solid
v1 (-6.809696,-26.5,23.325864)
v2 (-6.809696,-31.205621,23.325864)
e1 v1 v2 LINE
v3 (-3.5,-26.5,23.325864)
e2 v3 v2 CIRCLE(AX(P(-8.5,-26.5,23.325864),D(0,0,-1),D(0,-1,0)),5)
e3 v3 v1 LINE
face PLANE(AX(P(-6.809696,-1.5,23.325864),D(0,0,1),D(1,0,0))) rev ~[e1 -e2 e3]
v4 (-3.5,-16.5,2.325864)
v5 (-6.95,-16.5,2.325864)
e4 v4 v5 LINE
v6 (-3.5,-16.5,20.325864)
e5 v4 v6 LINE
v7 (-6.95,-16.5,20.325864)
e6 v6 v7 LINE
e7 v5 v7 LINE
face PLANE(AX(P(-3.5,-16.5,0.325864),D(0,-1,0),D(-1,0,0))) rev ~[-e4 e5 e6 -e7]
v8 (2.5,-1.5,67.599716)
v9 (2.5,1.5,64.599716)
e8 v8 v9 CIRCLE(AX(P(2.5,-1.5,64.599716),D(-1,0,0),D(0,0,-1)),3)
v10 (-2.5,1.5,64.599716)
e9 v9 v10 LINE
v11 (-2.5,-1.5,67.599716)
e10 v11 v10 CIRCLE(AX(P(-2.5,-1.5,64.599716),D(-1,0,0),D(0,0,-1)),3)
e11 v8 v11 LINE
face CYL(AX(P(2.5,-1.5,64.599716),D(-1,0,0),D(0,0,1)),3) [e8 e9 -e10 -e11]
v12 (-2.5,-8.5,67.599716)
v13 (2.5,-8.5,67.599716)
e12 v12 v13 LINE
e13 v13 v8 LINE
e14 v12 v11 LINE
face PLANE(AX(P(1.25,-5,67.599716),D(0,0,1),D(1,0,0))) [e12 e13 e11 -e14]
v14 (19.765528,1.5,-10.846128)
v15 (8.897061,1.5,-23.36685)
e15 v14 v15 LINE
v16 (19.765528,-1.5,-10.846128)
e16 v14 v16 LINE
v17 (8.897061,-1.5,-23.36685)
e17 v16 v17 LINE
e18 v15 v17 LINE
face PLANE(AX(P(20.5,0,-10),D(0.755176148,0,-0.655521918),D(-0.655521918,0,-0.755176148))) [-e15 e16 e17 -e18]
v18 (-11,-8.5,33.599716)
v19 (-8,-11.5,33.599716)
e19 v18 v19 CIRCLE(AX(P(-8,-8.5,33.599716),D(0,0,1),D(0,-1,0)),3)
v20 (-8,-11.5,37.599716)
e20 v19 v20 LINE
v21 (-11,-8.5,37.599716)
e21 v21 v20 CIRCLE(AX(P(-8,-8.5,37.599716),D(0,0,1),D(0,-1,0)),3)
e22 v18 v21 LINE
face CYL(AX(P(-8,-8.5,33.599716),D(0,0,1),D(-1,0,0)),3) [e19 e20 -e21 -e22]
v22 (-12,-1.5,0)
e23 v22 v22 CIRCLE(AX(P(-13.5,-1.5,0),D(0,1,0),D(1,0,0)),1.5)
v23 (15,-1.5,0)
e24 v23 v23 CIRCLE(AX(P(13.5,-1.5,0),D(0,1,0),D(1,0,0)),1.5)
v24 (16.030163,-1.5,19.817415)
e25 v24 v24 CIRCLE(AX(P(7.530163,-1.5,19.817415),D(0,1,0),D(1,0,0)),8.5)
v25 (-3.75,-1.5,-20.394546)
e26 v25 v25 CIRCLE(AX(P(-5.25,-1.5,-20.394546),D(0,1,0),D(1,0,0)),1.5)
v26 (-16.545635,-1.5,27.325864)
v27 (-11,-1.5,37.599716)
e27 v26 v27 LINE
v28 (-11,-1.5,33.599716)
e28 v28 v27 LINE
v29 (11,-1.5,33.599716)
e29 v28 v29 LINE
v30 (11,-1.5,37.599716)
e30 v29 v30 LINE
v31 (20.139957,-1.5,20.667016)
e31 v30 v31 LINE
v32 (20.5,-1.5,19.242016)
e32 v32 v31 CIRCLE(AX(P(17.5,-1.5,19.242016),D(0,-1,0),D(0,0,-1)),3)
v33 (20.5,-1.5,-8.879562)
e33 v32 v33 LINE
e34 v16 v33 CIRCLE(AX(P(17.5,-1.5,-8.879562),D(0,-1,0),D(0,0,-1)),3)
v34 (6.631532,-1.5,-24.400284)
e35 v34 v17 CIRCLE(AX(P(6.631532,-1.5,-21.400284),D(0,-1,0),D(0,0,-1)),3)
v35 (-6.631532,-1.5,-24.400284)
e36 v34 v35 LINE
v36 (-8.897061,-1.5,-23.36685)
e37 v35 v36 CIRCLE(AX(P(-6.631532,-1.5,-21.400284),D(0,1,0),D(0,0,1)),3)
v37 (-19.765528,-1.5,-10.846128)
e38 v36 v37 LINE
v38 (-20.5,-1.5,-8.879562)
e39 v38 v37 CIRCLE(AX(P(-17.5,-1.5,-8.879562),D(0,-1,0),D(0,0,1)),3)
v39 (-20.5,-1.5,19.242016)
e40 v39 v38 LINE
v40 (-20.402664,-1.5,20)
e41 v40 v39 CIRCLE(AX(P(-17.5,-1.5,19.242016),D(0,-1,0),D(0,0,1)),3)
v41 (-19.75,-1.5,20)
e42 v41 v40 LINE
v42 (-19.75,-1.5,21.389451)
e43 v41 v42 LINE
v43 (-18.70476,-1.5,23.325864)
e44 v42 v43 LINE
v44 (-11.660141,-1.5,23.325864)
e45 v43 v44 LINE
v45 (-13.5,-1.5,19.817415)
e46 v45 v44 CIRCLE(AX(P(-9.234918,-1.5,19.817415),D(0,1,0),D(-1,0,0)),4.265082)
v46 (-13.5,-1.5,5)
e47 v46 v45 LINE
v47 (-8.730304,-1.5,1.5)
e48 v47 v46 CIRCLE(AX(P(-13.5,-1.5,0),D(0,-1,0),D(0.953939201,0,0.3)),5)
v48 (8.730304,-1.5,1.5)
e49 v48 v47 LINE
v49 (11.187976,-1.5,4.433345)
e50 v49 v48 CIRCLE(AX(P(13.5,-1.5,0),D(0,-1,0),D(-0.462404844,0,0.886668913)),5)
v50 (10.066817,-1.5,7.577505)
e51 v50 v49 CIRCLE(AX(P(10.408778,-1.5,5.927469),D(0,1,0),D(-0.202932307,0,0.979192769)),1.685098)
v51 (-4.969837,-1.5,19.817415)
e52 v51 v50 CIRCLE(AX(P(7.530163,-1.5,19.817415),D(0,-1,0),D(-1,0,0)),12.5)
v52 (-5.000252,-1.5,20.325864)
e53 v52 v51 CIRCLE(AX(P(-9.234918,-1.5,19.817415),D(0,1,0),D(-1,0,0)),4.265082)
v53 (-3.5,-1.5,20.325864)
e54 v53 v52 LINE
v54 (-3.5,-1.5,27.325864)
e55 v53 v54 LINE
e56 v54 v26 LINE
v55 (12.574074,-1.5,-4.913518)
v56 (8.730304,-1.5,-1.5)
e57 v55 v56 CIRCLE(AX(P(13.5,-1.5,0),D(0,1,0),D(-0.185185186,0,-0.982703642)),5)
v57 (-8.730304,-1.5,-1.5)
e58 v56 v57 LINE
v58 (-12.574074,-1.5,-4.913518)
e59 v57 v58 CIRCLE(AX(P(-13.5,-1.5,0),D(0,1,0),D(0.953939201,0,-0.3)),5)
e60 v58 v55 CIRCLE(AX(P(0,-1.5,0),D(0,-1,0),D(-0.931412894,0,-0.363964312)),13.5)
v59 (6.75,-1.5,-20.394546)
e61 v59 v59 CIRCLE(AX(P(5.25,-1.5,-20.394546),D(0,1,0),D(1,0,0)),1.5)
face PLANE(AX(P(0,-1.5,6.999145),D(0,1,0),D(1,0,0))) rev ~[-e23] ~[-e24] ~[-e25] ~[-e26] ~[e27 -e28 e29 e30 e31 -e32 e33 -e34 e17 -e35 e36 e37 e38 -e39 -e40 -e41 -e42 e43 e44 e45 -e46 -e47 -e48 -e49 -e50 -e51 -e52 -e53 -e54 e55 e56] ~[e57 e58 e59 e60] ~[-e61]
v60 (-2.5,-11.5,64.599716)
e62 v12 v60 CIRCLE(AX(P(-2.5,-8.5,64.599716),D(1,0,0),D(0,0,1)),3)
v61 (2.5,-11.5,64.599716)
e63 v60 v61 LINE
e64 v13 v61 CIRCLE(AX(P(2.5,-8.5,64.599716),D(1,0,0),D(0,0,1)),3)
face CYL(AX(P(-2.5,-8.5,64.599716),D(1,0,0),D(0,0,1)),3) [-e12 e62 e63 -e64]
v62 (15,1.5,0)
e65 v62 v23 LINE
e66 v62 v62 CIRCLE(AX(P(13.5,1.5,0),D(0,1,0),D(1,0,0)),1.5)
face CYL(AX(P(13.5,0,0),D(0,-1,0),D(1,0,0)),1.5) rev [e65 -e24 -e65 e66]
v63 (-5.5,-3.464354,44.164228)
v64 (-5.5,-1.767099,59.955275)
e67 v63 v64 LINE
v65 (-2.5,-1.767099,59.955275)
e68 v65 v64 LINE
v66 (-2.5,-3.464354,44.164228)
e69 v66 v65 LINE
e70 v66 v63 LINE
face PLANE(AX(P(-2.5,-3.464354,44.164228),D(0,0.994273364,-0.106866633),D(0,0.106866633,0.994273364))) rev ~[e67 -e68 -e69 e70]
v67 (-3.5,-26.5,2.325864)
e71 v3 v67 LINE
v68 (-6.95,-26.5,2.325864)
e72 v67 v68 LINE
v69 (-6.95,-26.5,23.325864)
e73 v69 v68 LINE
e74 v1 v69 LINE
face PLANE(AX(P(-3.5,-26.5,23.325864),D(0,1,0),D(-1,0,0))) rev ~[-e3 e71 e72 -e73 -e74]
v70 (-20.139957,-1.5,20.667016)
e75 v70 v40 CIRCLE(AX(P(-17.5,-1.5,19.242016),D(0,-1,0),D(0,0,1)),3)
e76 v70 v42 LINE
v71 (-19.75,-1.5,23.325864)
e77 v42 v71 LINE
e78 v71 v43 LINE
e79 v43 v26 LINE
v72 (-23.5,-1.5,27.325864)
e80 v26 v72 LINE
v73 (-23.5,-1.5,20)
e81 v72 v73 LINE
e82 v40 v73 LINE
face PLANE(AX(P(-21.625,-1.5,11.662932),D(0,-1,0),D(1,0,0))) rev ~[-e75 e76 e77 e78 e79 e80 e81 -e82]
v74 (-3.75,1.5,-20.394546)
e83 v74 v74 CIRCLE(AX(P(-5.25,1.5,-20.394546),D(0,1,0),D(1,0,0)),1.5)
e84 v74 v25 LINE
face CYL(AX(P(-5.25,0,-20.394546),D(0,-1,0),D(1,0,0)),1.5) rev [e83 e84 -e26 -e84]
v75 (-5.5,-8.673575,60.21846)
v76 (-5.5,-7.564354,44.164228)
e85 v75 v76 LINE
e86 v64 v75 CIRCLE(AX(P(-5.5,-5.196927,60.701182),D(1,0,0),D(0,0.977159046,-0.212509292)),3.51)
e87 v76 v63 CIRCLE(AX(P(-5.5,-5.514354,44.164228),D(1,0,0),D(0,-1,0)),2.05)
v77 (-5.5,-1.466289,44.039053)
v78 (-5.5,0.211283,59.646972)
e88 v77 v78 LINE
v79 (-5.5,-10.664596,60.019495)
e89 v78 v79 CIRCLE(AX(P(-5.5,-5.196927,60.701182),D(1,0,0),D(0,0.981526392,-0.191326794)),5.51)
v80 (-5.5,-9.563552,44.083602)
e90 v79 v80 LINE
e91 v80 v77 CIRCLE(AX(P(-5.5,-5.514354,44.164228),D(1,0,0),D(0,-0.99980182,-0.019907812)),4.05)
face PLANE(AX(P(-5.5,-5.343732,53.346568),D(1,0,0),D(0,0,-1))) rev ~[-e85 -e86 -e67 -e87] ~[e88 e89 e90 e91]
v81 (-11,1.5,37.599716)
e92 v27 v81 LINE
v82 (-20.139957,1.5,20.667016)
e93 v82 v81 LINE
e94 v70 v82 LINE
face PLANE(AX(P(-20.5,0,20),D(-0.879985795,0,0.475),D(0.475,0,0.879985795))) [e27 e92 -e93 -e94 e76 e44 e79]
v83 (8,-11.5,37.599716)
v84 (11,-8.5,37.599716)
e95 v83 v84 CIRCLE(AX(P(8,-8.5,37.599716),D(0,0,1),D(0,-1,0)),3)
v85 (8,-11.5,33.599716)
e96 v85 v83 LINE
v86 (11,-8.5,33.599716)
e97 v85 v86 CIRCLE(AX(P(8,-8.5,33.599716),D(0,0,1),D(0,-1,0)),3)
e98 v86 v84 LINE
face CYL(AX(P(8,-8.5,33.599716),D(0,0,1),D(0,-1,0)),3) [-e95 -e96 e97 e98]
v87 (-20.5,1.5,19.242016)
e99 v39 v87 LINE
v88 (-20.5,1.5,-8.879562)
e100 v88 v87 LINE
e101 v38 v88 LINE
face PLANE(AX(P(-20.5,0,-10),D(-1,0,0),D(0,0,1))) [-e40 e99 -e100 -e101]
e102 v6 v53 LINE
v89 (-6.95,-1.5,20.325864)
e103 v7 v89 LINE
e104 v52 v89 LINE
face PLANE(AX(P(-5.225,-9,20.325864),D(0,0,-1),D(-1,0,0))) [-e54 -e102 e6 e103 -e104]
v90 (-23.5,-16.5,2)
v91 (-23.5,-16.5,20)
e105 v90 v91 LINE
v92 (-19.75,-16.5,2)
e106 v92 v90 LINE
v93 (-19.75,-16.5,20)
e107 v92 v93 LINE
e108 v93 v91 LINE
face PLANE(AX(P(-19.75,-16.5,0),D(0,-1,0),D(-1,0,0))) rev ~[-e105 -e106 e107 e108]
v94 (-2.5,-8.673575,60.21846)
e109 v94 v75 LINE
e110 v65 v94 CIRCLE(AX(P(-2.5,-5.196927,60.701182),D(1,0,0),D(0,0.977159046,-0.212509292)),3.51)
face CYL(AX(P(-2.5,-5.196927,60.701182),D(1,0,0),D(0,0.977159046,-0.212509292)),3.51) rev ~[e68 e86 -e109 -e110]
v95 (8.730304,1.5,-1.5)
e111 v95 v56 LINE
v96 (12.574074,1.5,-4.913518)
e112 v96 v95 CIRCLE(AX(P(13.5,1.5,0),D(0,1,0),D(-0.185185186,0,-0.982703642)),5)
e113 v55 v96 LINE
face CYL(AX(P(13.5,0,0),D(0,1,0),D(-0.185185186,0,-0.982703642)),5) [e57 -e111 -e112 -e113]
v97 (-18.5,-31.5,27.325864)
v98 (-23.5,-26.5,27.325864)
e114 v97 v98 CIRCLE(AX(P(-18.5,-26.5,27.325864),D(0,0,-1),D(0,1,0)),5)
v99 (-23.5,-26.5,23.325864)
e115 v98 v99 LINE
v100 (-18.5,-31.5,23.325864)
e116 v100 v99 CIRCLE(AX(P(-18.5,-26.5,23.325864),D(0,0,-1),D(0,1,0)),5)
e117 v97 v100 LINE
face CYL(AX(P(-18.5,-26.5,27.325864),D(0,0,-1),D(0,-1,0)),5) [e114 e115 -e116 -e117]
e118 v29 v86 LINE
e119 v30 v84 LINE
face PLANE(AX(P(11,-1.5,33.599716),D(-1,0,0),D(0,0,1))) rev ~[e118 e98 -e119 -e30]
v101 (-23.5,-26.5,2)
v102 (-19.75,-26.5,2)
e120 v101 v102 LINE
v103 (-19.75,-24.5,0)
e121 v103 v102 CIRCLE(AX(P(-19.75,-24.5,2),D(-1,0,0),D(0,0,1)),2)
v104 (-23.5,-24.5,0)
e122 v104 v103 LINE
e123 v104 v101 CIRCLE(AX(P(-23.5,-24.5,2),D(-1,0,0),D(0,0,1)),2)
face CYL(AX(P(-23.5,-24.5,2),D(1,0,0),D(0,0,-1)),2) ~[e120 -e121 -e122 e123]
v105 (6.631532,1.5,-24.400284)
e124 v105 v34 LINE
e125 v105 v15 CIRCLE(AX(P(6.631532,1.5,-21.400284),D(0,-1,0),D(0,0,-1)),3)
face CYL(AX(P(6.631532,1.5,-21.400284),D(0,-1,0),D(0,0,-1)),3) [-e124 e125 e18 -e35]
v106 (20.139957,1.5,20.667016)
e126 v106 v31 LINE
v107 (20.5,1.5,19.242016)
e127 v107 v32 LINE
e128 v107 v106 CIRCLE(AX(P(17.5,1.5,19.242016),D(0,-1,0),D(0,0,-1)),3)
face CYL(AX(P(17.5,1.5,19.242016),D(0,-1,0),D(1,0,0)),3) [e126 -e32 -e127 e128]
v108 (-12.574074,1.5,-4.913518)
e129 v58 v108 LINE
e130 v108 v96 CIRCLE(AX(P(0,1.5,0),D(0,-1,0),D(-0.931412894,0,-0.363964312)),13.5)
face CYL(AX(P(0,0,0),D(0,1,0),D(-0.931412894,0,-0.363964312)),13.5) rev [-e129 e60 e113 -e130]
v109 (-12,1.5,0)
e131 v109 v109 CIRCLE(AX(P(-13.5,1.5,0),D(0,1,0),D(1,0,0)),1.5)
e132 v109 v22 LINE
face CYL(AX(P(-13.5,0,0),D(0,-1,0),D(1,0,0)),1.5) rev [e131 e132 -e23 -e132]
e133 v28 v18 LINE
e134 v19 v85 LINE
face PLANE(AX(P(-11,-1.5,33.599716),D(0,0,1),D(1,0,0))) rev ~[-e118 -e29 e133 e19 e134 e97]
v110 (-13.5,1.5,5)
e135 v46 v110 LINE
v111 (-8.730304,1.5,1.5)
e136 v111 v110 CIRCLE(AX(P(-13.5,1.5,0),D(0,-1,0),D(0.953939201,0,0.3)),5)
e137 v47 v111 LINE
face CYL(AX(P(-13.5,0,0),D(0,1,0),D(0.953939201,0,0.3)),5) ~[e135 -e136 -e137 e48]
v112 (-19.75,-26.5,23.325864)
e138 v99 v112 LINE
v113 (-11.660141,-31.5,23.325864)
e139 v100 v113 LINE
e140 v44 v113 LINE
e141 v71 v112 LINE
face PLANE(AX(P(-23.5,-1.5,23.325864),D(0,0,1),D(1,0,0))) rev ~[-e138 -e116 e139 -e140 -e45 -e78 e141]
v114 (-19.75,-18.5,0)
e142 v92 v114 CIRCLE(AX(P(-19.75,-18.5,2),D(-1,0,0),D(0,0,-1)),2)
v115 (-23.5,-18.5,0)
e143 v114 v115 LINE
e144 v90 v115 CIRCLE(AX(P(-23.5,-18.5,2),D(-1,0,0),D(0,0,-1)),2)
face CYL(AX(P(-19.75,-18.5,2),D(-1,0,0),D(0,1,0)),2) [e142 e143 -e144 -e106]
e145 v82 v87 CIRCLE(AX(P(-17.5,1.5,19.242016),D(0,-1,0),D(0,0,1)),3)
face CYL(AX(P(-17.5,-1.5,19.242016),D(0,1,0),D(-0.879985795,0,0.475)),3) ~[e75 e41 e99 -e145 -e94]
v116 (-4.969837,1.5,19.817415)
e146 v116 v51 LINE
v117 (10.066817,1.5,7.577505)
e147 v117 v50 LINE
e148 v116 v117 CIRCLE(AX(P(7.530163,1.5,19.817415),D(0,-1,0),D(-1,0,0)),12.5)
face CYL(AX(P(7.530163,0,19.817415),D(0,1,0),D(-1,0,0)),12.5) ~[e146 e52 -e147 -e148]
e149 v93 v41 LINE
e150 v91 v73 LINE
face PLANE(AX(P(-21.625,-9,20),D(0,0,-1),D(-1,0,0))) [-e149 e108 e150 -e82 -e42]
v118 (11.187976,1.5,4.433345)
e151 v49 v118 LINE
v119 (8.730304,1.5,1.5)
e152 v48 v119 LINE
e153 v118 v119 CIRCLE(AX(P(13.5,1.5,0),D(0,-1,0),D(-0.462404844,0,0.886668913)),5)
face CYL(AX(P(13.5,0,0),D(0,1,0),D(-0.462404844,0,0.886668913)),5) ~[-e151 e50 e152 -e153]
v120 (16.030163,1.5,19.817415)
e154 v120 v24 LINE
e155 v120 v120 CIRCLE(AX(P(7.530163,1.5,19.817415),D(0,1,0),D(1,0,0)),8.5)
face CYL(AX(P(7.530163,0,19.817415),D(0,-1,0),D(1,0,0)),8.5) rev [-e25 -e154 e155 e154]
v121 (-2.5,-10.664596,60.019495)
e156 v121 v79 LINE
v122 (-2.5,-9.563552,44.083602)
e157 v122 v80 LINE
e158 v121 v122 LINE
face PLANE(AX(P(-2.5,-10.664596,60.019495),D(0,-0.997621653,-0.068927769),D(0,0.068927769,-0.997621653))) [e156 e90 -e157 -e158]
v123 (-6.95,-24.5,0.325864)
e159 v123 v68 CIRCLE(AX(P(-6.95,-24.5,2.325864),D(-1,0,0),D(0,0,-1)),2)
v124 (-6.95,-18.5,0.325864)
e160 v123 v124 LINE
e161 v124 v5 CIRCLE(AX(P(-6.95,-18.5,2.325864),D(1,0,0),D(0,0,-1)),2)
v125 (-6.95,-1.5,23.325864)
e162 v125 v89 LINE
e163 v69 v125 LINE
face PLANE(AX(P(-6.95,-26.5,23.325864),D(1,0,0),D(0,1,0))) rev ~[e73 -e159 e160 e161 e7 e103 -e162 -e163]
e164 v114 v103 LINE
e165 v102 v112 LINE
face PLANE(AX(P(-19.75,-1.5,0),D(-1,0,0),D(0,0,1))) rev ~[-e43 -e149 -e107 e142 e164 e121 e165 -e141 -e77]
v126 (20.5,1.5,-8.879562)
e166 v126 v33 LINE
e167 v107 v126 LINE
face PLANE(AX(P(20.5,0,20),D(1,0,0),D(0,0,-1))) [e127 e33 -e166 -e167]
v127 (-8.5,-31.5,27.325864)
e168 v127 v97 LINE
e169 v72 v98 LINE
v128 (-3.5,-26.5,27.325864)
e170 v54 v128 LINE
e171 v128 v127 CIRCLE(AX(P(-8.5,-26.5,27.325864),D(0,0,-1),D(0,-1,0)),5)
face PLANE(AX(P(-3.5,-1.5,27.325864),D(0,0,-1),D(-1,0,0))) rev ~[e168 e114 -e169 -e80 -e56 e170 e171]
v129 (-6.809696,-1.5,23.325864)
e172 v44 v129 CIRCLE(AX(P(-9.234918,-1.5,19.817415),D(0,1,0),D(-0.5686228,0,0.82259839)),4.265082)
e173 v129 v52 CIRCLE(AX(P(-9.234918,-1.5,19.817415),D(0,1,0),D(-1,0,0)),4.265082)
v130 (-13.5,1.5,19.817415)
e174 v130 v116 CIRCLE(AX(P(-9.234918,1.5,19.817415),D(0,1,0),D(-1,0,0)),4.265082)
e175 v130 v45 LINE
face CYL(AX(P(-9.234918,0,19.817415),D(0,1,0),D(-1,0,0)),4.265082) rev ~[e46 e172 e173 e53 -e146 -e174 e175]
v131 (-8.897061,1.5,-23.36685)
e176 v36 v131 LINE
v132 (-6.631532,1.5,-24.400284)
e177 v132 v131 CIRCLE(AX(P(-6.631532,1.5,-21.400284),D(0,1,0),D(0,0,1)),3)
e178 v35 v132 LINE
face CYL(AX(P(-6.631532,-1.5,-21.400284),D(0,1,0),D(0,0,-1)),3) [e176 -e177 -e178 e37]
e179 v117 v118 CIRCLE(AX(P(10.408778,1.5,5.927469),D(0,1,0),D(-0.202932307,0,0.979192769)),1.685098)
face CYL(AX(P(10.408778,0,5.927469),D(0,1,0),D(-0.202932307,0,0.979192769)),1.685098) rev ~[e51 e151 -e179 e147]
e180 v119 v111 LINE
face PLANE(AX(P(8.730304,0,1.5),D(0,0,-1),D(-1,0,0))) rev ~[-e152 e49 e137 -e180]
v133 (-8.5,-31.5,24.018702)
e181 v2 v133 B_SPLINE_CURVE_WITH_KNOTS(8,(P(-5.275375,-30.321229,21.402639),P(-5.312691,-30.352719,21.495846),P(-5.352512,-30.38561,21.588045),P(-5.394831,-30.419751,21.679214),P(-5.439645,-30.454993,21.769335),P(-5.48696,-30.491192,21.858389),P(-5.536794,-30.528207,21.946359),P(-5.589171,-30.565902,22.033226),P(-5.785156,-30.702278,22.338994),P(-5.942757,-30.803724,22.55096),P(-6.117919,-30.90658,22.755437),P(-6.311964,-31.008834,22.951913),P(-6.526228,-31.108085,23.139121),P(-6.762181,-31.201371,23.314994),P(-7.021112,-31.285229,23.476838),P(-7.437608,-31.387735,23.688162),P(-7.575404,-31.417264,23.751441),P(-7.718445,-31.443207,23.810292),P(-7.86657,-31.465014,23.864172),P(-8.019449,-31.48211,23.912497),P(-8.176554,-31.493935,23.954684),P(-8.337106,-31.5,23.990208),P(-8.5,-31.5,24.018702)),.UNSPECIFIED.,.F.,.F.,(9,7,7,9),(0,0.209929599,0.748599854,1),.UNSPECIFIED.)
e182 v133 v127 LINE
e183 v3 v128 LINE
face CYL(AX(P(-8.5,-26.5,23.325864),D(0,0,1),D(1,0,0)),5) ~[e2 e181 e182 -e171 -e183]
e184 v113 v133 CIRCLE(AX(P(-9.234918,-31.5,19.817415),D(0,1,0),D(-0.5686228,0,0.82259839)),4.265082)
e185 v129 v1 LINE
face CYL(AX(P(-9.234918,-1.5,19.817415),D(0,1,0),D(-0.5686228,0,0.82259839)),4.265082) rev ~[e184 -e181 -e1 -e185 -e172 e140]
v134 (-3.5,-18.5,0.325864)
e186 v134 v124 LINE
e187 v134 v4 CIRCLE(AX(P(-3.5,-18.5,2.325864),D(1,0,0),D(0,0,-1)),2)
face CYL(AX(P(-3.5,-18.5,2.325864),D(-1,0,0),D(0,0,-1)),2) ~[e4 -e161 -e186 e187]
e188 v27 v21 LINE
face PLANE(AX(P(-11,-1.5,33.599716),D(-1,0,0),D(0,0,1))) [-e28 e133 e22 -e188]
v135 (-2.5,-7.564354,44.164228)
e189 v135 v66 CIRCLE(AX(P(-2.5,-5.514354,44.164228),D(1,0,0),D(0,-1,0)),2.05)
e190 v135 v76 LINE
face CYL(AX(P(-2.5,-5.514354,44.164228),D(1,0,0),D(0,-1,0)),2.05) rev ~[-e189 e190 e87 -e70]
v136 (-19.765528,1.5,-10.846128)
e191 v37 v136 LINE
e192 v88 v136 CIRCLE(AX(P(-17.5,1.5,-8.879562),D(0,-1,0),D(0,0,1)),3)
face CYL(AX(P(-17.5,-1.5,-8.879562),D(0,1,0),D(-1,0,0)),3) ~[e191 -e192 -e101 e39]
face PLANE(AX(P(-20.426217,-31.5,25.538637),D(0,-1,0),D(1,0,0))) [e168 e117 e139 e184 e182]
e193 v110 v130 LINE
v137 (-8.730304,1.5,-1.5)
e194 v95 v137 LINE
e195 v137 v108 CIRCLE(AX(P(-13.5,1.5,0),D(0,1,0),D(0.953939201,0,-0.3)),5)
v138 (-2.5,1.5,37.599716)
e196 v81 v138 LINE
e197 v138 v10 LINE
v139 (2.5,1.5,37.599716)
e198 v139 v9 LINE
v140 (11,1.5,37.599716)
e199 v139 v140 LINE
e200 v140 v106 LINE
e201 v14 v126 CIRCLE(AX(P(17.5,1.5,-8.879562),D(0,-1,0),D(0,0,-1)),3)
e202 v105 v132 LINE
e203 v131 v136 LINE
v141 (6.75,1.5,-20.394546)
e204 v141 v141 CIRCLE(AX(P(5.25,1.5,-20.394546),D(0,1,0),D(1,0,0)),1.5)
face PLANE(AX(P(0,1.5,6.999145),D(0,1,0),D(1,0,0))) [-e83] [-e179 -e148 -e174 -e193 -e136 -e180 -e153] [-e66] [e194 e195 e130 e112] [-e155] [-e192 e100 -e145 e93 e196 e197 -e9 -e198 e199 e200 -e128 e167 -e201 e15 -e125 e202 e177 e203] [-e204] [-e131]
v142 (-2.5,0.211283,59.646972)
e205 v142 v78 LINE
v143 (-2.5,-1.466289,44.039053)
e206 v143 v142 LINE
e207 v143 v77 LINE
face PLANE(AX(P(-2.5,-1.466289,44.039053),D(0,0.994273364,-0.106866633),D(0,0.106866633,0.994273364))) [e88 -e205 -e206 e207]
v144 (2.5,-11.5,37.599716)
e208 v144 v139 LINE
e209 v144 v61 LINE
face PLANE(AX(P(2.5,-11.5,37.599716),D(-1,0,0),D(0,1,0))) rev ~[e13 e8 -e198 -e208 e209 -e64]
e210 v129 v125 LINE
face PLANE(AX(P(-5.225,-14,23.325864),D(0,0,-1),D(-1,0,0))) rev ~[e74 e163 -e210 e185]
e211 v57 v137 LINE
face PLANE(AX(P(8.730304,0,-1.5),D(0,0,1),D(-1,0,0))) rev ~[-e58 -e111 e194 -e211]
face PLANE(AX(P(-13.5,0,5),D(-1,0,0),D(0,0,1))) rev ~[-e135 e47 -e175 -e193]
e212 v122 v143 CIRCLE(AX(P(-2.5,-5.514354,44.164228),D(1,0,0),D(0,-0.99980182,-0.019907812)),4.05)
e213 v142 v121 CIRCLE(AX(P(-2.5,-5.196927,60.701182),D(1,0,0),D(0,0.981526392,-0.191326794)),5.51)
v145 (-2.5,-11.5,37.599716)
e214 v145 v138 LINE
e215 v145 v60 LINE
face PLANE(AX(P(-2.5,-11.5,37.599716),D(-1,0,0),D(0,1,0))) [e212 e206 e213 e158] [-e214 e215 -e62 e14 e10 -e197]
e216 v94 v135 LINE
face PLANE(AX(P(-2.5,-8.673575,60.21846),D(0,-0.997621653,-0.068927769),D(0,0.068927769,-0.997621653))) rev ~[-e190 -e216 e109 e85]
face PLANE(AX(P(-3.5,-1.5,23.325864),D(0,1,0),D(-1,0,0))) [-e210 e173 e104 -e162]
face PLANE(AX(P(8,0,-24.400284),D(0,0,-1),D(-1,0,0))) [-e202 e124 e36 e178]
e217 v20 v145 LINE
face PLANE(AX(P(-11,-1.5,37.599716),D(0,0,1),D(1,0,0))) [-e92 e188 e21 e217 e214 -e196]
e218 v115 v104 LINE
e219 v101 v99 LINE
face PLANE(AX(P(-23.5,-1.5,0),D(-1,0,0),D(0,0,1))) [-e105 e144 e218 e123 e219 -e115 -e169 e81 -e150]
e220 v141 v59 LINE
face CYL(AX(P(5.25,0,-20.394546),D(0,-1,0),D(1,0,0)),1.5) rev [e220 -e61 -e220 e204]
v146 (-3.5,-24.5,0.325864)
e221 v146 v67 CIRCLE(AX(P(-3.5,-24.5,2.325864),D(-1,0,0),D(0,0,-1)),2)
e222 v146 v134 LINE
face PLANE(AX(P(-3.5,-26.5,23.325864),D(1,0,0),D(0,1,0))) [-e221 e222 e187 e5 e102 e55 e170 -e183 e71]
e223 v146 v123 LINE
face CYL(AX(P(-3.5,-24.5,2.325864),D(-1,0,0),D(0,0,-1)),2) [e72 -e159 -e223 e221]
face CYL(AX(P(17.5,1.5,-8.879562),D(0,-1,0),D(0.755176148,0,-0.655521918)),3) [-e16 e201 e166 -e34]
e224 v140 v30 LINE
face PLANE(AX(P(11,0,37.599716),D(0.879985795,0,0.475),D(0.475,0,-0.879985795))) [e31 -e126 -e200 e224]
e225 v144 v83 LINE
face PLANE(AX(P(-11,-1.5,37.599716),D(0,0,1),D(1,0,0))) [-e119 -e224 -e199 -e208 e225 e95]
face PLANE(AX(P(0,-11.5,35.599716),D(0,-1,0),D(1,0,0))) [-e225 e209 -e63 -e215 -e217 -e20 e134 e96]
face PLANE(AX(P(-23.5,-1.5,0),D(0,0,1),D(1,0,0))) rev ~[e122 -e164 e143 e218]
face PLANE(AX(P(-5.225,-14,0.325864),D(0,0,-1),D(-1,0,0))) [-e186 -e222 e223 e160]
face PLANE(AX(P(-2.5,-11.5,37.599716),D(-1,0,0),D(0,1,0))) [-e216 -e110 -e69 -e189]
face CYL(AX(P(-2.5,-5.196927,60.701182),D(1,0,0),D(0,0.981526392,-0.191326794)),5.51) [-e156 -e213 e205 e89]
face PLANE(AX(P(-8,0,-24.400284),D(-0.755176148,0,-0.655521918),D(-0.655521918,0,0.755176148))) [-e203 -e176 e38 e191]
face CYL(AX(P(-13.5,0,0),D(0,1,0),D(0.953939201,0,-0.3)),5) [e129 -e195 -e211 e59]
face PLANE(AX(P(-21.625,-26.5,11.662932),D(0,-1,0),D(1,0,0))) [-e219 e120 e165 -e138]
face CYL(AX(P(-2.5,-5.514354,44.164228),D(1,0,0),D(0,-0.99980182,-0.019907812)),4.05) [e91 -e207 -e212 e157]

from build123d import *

# Parameters (mm, degrees)
SKETCH1_R            = 1.5
SKETCH1_R_2          = 8.5
BOSS_EXTRUDE1_DEPTH  = 1.5
FILLET1_R            = 3
BOSS_EXTRUDE2_DEPTH  = 30
SKETCH7_W            = 3.75
SKETCH7_H            = 23.325864092
BOSS_EXTRUDE4_DEPTH  = 25
SKETCH10_W           = 3.45
SKETCH10_H           = 25
BOSS_EXTRUDE15_DEPTH = 23
SKETCH11_W           = 3.75
SKETCH11_H           = 15
CUT_EXTRUDE1_DEPTH   = 20
SKETCH12_W           = 3.45
SKETCH12_H           = 15
CUT_EXTRUDE2_DEPTH   = 20
SKETCH13_W           = 22
SKETCH13_H           = 4
BOSS_EXTRUDE16_DEPTH = 10
SKETCH14_W           = 2.5
SKETCH14_H           = 13
BOSS_EXTRUDE17_DEPTH = 30
FILLET3_R            = 3
FILLET4_R            = 3
FILLET5_R            = 3
FILLET6_R            = 3
FILLET7_R            = 2
FILLET8_R            = 2
FILLET9_R            = 2
FILLET10_R           = 2
FILLET11_R           = 5
FILLET12_R           = 5
BOSS_EXTRUDE18_DEPTH = 3


with BuildPart() as part:
    # Sketch1 → Boss-Extrude1 (new body, symmetric)
    with BuildSketch(Plane(origin=(0, 0, 0), x_dir=(1, 0, 0), z_dir=(0, 1, 0))):
        Polygon((8, 24.400284093), (-8, 24.400284093), (-20.5, 10), (-20.5, -20), (-11, -37.599715907), (11, -37.599715907), (20.5, -20), (20.5, 10), align=None)
        with Locations((-5.25, 20.39454584)):
            Circle(SKETCH1_R, mode=Mode.SUBTRACT)
        with Locations((5.25, 20.39454584)):
            Circle(SKETCH1_R, mode=Mode.SUBTRACT)
        with Locations((-13.5, 0)):
            Circle(SKETCH1_R, mode=Mode.SUBTRACT)
        with Locations((13.5, 0)):
            Circle(SKETCH1_R, mode=Mode.SUBTRACT)
        with Locations((7.530163354, -19.817414772)):
            Circle(SKETCH1_R_2, mode=Mode.SUBTRACT)
        with BuildLine():
            Line((-13.5, -5), (-13.5, -19.817414772))
            ThreePointArc((-13.5, -19.817414772), (-9.234918323, -24.082496449), (-4.969836646, -19.817414772))
            ThreePointArc((-4.969836646, -19.817414772), (-0.361028795, -10.12313365), (10.06681719, -7.57750516))
            ThreePointArc((10.06681719, -7.57750516), (11.99598649, -6.493442694), (11.187975781, -4.433344563))
            ThreePointArc((11.187975781, -4.433344563), (9.667400631, -3.211102938), (8.730303993, -1.5))
            Line((8.730303993, -1.5), (-8.730303993, -1.5))
            ThreePointArc((-8.730303993, -1.5), (-10.541960108, -4.031128874), (-13.5, -5))
        make_face(mode=Mode.SUBTRACT)
        with BuildLine():
            Line((8.730303993, 1.5), (-8.730303993, 1.5))
            ThreePointArc((-8.730303993, 1.5), (-10.179901517, 3.738575405), (-12.574074074, 4.913518208))
            ThreePointArc((-12.574074074, 4.913518208), (0, 13.5), (12.574074074, 4.913518208))
            ThreePointArc((12.574074074, 4.913518208), (10.179901517, 3.738575405), (8.730303993, 1.5))
        make_face(mode=Mode.SUBTRACT)
    extrude(amount=BOSS_EXTRUDE1_DEPTH, both=True)

    # Fillet1
    fillet1_edges = [part.edges().sort_by_distance(p)[0] for p in [
        (-20.5, 0, 20),
        (-20.5, 0, -10),
        (-8, 0, -24.400284093),
        (8, 0, -24.400284093),
        (20.5, 0, -10),
        (20.5, 0, 20),
    ]]
    fillet(fillet1_edges, radius=FILLET1_R)

    # Sketch4 → Boss-Extrude2 (add)
    with BuildSketch(Plane.XZ.offset(1.5)):
        Polygon((-23.5, 27.325864092), (-23.5, 23.325864092), (-18.70476029, 23.325864092), (-16.545634529, 27.325864092), align=None)
        with BuildLine():
            Line((-18.70476029, 23.325864092), (-13.5, 23.325864092))
            Line((-13.5, 23.325864092), (-11.660141009, 23.325864092))
            ThreePointArc((-11.660141009, 23.325864092), (-9.234918323, 24.082496449), (-6.809695637, 23.325864092))
            Line((-6.809695637, 23.325864092), (-3.5, 23.325864092))
            Line((-3.5, 23.325864092), (-3.5, 27.325864092))
            Line((-3.5, 27.325864092), (-16.545634529, 27.325864092))
            Line((-16.545634529, 27.325864092), (-18.70476029, 23.325864092))
        make_face()
    extrude(amount=BOSS_EXTRUDE2_DEPTH)

    # Sketch7 → Boss-Extrude4 (add)
    with BuildSketch(Plane.XZ.offset(1.5)):
        with Locations((-21.625, 11.662932046)):
            Rectangle(SKETCH7_W, SKETCH7_H)
    extrude(amount=BOSS_EXTRUDE4_DEPTH)

    # Sketch10 → Boss-Extrude15 (add)
    with BuildSketch(Plane(origin=(0, 0, 23.325864092), x_dir=(-1, 0, 0), z_dir=(0, 0, -1))):
        with Locations((5.225, -14)):
            Rectangle(SKETCH10_W, SKETCH10_H)
    extrude(amount=BOSS_EXTRUDE15_DEPTH)

    # Sketch11 → Cut-Extrude1 (cut)
    with BuildSketch(Plane(origin=(0, 0, 0), x_dir=(-1, 0, 0), z_dir=(0, 0, -1))):
        with Locations((21.625, -9)):
            Rectangle(SKETCH11_W, SKETCH11_H)
    extrude(amount=-CUT_EXTRUDE1_DEPTH, mode=Mode.SUBTRACT)

    # Sketch12 → Cut-Extrude2 (cut)
    with BuildSketch(Plane(origin=(0, 0, 0.325864092), x_dir=(-1, 0, 0), z_dir=(0, 0, -1))):
        with Locations((5.225, -9)):
            Rectangle(SKETCH12_W, SKETCH12_H)
    extrude(amount=-CUT_EXTRUDE2_DEPTH, mode=Mode.SUBTRACT)

    # Sketch13 → Boss-Extrude16 (add)
    with BuildSketch(Plane.XZ.offset(1.5)):
        with Locations((0, 35.599715907)):
            Rectangle(SKETCH13_W, SKETCH13_H)
    extrude(amount=BOSS_EXTRUDE16_DEPTH)

    # Sketch14 → Boss-Extrude17 (add)
    with BuildSketch(Plane.XY.offset(37.599715907)):
        with Locations((1.25, -5)):
            Rectangle(SKETCH14_W, SKETCH14_H)
        with Locations((-1.25, -5)):
            Rectangle(SKETCH14_W, SKETCH14_H)
    extrude(amount=BOSS_EXTRUDE17_DEPTH)

    # Fillet3
    fillet3_edges = [part.edges().sort_by_distance(p)[0] for p in [
        (-11, -11.5, 35.599715907),
    ]]
    fillet(fillet3_edges, radius=FILLET3_R)

    # Fillet4
    fillet4_edges = [part.edges().sort_by_distance(p)[0] for p in [
        (11, -11.5, 35.599715907),
    ]]
    fillet(fillet4_edges, radius=FILLET4_R)

    # Fillet5
    fillet5_edges = [part.edges().sort_by_distance(p)[0] for p in [
        (0, 1.5, 67.599715907),
    ]]
    fillet(fillet5_edges, radius=FILLET5_R)

    # Fillet6
    fillet6_edges = [part.edges().sort_by_distance(p)[0] for p in [
        (0, -11.5, 67.599715907),
    ]]
    fillet(fillet6_edges, radius=FILLET6_R)

    # Fillet7
    fillet7_edges = [part.edges().sort_by_distance(p)[0] for p in [
        (-21.625, -16.5, 0),
    ]]
    fillet(fillet7_edges, radius=FILLET7_R)

    # Fillet8
    fillet8_edges = [part.edges().sort_by_distance(p)[0] for p in [
        (-21.625, -26.5, 0),
    ]]
    fillet(fillet8_edges, radius=FILLET8_R)

    # Fillet9
    fillet9_edges = [part.edges().sort_by_distance(p)[0] for p in [
        (-5.225, -26.5, 0.325864092),
    ]]
    fillet(fillet9_edges, radius=FILLET9_R)

    # Fillet10
    fillet10_edges = [part.edges().sort_by_distance(p)[0] for p in [
        (-5.225, -16.5, 0.325864092),
    ]]
    fillet(fillet10_edges, radius=FILLET10_R)

    # Fillet11
    fillet11_edges = [part.edges().sort_by_distance(p)[0] for p in [
        (-3.5, -31.5, 25.325864092),
    ]]
    fillet(fillet11_edges, radius=FILLET11_R)

    # Fillet12
    fillet12_edges = [part.edges().sort_by_distance(p)[0] for p in [
        (-23.5, -31.5, 25.325864092),
    ]]
    fillet(fillet12_edges, radius=FILLET12_R)

    # Sketch15 → Boss-Extrude18 (add)
    with BuildSketch(Plane.ZY.offset(2.5)):
        with BuildLine():
            Line((60.019494917, -10.664595798), (44.083601773, -9.563551575))
            ThreePointArc((44.083601773, -9.563551575), (40.114289707, -5.53663584), (44.039052889, -1.466289101))
            Line((44.039052889, -1.466289101), (59.646971548, 0.211283454))
            ThreePointArc((59.646971548, 0.211283454), (66.207952811, -5.008307663), (60.019494917, -10.664595798))
        make_face()
        with BuildLine():
            Line((60.218460063, -8.673574683), (44.164228414, -7.564354205))
            ThreePointArc((44.164228414, -7.564354205), (42.114228414, -5.514354205), (44.164228414, -3.464354205))
            Line((44.164228414, -3.464354205), (59.955274566, -1.767098714))
            ThreePointArc((59.955274566, -1.767098714), (64.208636435, -5.063268193), (60.218460063, -8.673574683))
        make_face(mode=Mode.SUBTRACT)
    extrude(amount=BOSS_EXTRUDE18_DEPTH)


solid = part.part
